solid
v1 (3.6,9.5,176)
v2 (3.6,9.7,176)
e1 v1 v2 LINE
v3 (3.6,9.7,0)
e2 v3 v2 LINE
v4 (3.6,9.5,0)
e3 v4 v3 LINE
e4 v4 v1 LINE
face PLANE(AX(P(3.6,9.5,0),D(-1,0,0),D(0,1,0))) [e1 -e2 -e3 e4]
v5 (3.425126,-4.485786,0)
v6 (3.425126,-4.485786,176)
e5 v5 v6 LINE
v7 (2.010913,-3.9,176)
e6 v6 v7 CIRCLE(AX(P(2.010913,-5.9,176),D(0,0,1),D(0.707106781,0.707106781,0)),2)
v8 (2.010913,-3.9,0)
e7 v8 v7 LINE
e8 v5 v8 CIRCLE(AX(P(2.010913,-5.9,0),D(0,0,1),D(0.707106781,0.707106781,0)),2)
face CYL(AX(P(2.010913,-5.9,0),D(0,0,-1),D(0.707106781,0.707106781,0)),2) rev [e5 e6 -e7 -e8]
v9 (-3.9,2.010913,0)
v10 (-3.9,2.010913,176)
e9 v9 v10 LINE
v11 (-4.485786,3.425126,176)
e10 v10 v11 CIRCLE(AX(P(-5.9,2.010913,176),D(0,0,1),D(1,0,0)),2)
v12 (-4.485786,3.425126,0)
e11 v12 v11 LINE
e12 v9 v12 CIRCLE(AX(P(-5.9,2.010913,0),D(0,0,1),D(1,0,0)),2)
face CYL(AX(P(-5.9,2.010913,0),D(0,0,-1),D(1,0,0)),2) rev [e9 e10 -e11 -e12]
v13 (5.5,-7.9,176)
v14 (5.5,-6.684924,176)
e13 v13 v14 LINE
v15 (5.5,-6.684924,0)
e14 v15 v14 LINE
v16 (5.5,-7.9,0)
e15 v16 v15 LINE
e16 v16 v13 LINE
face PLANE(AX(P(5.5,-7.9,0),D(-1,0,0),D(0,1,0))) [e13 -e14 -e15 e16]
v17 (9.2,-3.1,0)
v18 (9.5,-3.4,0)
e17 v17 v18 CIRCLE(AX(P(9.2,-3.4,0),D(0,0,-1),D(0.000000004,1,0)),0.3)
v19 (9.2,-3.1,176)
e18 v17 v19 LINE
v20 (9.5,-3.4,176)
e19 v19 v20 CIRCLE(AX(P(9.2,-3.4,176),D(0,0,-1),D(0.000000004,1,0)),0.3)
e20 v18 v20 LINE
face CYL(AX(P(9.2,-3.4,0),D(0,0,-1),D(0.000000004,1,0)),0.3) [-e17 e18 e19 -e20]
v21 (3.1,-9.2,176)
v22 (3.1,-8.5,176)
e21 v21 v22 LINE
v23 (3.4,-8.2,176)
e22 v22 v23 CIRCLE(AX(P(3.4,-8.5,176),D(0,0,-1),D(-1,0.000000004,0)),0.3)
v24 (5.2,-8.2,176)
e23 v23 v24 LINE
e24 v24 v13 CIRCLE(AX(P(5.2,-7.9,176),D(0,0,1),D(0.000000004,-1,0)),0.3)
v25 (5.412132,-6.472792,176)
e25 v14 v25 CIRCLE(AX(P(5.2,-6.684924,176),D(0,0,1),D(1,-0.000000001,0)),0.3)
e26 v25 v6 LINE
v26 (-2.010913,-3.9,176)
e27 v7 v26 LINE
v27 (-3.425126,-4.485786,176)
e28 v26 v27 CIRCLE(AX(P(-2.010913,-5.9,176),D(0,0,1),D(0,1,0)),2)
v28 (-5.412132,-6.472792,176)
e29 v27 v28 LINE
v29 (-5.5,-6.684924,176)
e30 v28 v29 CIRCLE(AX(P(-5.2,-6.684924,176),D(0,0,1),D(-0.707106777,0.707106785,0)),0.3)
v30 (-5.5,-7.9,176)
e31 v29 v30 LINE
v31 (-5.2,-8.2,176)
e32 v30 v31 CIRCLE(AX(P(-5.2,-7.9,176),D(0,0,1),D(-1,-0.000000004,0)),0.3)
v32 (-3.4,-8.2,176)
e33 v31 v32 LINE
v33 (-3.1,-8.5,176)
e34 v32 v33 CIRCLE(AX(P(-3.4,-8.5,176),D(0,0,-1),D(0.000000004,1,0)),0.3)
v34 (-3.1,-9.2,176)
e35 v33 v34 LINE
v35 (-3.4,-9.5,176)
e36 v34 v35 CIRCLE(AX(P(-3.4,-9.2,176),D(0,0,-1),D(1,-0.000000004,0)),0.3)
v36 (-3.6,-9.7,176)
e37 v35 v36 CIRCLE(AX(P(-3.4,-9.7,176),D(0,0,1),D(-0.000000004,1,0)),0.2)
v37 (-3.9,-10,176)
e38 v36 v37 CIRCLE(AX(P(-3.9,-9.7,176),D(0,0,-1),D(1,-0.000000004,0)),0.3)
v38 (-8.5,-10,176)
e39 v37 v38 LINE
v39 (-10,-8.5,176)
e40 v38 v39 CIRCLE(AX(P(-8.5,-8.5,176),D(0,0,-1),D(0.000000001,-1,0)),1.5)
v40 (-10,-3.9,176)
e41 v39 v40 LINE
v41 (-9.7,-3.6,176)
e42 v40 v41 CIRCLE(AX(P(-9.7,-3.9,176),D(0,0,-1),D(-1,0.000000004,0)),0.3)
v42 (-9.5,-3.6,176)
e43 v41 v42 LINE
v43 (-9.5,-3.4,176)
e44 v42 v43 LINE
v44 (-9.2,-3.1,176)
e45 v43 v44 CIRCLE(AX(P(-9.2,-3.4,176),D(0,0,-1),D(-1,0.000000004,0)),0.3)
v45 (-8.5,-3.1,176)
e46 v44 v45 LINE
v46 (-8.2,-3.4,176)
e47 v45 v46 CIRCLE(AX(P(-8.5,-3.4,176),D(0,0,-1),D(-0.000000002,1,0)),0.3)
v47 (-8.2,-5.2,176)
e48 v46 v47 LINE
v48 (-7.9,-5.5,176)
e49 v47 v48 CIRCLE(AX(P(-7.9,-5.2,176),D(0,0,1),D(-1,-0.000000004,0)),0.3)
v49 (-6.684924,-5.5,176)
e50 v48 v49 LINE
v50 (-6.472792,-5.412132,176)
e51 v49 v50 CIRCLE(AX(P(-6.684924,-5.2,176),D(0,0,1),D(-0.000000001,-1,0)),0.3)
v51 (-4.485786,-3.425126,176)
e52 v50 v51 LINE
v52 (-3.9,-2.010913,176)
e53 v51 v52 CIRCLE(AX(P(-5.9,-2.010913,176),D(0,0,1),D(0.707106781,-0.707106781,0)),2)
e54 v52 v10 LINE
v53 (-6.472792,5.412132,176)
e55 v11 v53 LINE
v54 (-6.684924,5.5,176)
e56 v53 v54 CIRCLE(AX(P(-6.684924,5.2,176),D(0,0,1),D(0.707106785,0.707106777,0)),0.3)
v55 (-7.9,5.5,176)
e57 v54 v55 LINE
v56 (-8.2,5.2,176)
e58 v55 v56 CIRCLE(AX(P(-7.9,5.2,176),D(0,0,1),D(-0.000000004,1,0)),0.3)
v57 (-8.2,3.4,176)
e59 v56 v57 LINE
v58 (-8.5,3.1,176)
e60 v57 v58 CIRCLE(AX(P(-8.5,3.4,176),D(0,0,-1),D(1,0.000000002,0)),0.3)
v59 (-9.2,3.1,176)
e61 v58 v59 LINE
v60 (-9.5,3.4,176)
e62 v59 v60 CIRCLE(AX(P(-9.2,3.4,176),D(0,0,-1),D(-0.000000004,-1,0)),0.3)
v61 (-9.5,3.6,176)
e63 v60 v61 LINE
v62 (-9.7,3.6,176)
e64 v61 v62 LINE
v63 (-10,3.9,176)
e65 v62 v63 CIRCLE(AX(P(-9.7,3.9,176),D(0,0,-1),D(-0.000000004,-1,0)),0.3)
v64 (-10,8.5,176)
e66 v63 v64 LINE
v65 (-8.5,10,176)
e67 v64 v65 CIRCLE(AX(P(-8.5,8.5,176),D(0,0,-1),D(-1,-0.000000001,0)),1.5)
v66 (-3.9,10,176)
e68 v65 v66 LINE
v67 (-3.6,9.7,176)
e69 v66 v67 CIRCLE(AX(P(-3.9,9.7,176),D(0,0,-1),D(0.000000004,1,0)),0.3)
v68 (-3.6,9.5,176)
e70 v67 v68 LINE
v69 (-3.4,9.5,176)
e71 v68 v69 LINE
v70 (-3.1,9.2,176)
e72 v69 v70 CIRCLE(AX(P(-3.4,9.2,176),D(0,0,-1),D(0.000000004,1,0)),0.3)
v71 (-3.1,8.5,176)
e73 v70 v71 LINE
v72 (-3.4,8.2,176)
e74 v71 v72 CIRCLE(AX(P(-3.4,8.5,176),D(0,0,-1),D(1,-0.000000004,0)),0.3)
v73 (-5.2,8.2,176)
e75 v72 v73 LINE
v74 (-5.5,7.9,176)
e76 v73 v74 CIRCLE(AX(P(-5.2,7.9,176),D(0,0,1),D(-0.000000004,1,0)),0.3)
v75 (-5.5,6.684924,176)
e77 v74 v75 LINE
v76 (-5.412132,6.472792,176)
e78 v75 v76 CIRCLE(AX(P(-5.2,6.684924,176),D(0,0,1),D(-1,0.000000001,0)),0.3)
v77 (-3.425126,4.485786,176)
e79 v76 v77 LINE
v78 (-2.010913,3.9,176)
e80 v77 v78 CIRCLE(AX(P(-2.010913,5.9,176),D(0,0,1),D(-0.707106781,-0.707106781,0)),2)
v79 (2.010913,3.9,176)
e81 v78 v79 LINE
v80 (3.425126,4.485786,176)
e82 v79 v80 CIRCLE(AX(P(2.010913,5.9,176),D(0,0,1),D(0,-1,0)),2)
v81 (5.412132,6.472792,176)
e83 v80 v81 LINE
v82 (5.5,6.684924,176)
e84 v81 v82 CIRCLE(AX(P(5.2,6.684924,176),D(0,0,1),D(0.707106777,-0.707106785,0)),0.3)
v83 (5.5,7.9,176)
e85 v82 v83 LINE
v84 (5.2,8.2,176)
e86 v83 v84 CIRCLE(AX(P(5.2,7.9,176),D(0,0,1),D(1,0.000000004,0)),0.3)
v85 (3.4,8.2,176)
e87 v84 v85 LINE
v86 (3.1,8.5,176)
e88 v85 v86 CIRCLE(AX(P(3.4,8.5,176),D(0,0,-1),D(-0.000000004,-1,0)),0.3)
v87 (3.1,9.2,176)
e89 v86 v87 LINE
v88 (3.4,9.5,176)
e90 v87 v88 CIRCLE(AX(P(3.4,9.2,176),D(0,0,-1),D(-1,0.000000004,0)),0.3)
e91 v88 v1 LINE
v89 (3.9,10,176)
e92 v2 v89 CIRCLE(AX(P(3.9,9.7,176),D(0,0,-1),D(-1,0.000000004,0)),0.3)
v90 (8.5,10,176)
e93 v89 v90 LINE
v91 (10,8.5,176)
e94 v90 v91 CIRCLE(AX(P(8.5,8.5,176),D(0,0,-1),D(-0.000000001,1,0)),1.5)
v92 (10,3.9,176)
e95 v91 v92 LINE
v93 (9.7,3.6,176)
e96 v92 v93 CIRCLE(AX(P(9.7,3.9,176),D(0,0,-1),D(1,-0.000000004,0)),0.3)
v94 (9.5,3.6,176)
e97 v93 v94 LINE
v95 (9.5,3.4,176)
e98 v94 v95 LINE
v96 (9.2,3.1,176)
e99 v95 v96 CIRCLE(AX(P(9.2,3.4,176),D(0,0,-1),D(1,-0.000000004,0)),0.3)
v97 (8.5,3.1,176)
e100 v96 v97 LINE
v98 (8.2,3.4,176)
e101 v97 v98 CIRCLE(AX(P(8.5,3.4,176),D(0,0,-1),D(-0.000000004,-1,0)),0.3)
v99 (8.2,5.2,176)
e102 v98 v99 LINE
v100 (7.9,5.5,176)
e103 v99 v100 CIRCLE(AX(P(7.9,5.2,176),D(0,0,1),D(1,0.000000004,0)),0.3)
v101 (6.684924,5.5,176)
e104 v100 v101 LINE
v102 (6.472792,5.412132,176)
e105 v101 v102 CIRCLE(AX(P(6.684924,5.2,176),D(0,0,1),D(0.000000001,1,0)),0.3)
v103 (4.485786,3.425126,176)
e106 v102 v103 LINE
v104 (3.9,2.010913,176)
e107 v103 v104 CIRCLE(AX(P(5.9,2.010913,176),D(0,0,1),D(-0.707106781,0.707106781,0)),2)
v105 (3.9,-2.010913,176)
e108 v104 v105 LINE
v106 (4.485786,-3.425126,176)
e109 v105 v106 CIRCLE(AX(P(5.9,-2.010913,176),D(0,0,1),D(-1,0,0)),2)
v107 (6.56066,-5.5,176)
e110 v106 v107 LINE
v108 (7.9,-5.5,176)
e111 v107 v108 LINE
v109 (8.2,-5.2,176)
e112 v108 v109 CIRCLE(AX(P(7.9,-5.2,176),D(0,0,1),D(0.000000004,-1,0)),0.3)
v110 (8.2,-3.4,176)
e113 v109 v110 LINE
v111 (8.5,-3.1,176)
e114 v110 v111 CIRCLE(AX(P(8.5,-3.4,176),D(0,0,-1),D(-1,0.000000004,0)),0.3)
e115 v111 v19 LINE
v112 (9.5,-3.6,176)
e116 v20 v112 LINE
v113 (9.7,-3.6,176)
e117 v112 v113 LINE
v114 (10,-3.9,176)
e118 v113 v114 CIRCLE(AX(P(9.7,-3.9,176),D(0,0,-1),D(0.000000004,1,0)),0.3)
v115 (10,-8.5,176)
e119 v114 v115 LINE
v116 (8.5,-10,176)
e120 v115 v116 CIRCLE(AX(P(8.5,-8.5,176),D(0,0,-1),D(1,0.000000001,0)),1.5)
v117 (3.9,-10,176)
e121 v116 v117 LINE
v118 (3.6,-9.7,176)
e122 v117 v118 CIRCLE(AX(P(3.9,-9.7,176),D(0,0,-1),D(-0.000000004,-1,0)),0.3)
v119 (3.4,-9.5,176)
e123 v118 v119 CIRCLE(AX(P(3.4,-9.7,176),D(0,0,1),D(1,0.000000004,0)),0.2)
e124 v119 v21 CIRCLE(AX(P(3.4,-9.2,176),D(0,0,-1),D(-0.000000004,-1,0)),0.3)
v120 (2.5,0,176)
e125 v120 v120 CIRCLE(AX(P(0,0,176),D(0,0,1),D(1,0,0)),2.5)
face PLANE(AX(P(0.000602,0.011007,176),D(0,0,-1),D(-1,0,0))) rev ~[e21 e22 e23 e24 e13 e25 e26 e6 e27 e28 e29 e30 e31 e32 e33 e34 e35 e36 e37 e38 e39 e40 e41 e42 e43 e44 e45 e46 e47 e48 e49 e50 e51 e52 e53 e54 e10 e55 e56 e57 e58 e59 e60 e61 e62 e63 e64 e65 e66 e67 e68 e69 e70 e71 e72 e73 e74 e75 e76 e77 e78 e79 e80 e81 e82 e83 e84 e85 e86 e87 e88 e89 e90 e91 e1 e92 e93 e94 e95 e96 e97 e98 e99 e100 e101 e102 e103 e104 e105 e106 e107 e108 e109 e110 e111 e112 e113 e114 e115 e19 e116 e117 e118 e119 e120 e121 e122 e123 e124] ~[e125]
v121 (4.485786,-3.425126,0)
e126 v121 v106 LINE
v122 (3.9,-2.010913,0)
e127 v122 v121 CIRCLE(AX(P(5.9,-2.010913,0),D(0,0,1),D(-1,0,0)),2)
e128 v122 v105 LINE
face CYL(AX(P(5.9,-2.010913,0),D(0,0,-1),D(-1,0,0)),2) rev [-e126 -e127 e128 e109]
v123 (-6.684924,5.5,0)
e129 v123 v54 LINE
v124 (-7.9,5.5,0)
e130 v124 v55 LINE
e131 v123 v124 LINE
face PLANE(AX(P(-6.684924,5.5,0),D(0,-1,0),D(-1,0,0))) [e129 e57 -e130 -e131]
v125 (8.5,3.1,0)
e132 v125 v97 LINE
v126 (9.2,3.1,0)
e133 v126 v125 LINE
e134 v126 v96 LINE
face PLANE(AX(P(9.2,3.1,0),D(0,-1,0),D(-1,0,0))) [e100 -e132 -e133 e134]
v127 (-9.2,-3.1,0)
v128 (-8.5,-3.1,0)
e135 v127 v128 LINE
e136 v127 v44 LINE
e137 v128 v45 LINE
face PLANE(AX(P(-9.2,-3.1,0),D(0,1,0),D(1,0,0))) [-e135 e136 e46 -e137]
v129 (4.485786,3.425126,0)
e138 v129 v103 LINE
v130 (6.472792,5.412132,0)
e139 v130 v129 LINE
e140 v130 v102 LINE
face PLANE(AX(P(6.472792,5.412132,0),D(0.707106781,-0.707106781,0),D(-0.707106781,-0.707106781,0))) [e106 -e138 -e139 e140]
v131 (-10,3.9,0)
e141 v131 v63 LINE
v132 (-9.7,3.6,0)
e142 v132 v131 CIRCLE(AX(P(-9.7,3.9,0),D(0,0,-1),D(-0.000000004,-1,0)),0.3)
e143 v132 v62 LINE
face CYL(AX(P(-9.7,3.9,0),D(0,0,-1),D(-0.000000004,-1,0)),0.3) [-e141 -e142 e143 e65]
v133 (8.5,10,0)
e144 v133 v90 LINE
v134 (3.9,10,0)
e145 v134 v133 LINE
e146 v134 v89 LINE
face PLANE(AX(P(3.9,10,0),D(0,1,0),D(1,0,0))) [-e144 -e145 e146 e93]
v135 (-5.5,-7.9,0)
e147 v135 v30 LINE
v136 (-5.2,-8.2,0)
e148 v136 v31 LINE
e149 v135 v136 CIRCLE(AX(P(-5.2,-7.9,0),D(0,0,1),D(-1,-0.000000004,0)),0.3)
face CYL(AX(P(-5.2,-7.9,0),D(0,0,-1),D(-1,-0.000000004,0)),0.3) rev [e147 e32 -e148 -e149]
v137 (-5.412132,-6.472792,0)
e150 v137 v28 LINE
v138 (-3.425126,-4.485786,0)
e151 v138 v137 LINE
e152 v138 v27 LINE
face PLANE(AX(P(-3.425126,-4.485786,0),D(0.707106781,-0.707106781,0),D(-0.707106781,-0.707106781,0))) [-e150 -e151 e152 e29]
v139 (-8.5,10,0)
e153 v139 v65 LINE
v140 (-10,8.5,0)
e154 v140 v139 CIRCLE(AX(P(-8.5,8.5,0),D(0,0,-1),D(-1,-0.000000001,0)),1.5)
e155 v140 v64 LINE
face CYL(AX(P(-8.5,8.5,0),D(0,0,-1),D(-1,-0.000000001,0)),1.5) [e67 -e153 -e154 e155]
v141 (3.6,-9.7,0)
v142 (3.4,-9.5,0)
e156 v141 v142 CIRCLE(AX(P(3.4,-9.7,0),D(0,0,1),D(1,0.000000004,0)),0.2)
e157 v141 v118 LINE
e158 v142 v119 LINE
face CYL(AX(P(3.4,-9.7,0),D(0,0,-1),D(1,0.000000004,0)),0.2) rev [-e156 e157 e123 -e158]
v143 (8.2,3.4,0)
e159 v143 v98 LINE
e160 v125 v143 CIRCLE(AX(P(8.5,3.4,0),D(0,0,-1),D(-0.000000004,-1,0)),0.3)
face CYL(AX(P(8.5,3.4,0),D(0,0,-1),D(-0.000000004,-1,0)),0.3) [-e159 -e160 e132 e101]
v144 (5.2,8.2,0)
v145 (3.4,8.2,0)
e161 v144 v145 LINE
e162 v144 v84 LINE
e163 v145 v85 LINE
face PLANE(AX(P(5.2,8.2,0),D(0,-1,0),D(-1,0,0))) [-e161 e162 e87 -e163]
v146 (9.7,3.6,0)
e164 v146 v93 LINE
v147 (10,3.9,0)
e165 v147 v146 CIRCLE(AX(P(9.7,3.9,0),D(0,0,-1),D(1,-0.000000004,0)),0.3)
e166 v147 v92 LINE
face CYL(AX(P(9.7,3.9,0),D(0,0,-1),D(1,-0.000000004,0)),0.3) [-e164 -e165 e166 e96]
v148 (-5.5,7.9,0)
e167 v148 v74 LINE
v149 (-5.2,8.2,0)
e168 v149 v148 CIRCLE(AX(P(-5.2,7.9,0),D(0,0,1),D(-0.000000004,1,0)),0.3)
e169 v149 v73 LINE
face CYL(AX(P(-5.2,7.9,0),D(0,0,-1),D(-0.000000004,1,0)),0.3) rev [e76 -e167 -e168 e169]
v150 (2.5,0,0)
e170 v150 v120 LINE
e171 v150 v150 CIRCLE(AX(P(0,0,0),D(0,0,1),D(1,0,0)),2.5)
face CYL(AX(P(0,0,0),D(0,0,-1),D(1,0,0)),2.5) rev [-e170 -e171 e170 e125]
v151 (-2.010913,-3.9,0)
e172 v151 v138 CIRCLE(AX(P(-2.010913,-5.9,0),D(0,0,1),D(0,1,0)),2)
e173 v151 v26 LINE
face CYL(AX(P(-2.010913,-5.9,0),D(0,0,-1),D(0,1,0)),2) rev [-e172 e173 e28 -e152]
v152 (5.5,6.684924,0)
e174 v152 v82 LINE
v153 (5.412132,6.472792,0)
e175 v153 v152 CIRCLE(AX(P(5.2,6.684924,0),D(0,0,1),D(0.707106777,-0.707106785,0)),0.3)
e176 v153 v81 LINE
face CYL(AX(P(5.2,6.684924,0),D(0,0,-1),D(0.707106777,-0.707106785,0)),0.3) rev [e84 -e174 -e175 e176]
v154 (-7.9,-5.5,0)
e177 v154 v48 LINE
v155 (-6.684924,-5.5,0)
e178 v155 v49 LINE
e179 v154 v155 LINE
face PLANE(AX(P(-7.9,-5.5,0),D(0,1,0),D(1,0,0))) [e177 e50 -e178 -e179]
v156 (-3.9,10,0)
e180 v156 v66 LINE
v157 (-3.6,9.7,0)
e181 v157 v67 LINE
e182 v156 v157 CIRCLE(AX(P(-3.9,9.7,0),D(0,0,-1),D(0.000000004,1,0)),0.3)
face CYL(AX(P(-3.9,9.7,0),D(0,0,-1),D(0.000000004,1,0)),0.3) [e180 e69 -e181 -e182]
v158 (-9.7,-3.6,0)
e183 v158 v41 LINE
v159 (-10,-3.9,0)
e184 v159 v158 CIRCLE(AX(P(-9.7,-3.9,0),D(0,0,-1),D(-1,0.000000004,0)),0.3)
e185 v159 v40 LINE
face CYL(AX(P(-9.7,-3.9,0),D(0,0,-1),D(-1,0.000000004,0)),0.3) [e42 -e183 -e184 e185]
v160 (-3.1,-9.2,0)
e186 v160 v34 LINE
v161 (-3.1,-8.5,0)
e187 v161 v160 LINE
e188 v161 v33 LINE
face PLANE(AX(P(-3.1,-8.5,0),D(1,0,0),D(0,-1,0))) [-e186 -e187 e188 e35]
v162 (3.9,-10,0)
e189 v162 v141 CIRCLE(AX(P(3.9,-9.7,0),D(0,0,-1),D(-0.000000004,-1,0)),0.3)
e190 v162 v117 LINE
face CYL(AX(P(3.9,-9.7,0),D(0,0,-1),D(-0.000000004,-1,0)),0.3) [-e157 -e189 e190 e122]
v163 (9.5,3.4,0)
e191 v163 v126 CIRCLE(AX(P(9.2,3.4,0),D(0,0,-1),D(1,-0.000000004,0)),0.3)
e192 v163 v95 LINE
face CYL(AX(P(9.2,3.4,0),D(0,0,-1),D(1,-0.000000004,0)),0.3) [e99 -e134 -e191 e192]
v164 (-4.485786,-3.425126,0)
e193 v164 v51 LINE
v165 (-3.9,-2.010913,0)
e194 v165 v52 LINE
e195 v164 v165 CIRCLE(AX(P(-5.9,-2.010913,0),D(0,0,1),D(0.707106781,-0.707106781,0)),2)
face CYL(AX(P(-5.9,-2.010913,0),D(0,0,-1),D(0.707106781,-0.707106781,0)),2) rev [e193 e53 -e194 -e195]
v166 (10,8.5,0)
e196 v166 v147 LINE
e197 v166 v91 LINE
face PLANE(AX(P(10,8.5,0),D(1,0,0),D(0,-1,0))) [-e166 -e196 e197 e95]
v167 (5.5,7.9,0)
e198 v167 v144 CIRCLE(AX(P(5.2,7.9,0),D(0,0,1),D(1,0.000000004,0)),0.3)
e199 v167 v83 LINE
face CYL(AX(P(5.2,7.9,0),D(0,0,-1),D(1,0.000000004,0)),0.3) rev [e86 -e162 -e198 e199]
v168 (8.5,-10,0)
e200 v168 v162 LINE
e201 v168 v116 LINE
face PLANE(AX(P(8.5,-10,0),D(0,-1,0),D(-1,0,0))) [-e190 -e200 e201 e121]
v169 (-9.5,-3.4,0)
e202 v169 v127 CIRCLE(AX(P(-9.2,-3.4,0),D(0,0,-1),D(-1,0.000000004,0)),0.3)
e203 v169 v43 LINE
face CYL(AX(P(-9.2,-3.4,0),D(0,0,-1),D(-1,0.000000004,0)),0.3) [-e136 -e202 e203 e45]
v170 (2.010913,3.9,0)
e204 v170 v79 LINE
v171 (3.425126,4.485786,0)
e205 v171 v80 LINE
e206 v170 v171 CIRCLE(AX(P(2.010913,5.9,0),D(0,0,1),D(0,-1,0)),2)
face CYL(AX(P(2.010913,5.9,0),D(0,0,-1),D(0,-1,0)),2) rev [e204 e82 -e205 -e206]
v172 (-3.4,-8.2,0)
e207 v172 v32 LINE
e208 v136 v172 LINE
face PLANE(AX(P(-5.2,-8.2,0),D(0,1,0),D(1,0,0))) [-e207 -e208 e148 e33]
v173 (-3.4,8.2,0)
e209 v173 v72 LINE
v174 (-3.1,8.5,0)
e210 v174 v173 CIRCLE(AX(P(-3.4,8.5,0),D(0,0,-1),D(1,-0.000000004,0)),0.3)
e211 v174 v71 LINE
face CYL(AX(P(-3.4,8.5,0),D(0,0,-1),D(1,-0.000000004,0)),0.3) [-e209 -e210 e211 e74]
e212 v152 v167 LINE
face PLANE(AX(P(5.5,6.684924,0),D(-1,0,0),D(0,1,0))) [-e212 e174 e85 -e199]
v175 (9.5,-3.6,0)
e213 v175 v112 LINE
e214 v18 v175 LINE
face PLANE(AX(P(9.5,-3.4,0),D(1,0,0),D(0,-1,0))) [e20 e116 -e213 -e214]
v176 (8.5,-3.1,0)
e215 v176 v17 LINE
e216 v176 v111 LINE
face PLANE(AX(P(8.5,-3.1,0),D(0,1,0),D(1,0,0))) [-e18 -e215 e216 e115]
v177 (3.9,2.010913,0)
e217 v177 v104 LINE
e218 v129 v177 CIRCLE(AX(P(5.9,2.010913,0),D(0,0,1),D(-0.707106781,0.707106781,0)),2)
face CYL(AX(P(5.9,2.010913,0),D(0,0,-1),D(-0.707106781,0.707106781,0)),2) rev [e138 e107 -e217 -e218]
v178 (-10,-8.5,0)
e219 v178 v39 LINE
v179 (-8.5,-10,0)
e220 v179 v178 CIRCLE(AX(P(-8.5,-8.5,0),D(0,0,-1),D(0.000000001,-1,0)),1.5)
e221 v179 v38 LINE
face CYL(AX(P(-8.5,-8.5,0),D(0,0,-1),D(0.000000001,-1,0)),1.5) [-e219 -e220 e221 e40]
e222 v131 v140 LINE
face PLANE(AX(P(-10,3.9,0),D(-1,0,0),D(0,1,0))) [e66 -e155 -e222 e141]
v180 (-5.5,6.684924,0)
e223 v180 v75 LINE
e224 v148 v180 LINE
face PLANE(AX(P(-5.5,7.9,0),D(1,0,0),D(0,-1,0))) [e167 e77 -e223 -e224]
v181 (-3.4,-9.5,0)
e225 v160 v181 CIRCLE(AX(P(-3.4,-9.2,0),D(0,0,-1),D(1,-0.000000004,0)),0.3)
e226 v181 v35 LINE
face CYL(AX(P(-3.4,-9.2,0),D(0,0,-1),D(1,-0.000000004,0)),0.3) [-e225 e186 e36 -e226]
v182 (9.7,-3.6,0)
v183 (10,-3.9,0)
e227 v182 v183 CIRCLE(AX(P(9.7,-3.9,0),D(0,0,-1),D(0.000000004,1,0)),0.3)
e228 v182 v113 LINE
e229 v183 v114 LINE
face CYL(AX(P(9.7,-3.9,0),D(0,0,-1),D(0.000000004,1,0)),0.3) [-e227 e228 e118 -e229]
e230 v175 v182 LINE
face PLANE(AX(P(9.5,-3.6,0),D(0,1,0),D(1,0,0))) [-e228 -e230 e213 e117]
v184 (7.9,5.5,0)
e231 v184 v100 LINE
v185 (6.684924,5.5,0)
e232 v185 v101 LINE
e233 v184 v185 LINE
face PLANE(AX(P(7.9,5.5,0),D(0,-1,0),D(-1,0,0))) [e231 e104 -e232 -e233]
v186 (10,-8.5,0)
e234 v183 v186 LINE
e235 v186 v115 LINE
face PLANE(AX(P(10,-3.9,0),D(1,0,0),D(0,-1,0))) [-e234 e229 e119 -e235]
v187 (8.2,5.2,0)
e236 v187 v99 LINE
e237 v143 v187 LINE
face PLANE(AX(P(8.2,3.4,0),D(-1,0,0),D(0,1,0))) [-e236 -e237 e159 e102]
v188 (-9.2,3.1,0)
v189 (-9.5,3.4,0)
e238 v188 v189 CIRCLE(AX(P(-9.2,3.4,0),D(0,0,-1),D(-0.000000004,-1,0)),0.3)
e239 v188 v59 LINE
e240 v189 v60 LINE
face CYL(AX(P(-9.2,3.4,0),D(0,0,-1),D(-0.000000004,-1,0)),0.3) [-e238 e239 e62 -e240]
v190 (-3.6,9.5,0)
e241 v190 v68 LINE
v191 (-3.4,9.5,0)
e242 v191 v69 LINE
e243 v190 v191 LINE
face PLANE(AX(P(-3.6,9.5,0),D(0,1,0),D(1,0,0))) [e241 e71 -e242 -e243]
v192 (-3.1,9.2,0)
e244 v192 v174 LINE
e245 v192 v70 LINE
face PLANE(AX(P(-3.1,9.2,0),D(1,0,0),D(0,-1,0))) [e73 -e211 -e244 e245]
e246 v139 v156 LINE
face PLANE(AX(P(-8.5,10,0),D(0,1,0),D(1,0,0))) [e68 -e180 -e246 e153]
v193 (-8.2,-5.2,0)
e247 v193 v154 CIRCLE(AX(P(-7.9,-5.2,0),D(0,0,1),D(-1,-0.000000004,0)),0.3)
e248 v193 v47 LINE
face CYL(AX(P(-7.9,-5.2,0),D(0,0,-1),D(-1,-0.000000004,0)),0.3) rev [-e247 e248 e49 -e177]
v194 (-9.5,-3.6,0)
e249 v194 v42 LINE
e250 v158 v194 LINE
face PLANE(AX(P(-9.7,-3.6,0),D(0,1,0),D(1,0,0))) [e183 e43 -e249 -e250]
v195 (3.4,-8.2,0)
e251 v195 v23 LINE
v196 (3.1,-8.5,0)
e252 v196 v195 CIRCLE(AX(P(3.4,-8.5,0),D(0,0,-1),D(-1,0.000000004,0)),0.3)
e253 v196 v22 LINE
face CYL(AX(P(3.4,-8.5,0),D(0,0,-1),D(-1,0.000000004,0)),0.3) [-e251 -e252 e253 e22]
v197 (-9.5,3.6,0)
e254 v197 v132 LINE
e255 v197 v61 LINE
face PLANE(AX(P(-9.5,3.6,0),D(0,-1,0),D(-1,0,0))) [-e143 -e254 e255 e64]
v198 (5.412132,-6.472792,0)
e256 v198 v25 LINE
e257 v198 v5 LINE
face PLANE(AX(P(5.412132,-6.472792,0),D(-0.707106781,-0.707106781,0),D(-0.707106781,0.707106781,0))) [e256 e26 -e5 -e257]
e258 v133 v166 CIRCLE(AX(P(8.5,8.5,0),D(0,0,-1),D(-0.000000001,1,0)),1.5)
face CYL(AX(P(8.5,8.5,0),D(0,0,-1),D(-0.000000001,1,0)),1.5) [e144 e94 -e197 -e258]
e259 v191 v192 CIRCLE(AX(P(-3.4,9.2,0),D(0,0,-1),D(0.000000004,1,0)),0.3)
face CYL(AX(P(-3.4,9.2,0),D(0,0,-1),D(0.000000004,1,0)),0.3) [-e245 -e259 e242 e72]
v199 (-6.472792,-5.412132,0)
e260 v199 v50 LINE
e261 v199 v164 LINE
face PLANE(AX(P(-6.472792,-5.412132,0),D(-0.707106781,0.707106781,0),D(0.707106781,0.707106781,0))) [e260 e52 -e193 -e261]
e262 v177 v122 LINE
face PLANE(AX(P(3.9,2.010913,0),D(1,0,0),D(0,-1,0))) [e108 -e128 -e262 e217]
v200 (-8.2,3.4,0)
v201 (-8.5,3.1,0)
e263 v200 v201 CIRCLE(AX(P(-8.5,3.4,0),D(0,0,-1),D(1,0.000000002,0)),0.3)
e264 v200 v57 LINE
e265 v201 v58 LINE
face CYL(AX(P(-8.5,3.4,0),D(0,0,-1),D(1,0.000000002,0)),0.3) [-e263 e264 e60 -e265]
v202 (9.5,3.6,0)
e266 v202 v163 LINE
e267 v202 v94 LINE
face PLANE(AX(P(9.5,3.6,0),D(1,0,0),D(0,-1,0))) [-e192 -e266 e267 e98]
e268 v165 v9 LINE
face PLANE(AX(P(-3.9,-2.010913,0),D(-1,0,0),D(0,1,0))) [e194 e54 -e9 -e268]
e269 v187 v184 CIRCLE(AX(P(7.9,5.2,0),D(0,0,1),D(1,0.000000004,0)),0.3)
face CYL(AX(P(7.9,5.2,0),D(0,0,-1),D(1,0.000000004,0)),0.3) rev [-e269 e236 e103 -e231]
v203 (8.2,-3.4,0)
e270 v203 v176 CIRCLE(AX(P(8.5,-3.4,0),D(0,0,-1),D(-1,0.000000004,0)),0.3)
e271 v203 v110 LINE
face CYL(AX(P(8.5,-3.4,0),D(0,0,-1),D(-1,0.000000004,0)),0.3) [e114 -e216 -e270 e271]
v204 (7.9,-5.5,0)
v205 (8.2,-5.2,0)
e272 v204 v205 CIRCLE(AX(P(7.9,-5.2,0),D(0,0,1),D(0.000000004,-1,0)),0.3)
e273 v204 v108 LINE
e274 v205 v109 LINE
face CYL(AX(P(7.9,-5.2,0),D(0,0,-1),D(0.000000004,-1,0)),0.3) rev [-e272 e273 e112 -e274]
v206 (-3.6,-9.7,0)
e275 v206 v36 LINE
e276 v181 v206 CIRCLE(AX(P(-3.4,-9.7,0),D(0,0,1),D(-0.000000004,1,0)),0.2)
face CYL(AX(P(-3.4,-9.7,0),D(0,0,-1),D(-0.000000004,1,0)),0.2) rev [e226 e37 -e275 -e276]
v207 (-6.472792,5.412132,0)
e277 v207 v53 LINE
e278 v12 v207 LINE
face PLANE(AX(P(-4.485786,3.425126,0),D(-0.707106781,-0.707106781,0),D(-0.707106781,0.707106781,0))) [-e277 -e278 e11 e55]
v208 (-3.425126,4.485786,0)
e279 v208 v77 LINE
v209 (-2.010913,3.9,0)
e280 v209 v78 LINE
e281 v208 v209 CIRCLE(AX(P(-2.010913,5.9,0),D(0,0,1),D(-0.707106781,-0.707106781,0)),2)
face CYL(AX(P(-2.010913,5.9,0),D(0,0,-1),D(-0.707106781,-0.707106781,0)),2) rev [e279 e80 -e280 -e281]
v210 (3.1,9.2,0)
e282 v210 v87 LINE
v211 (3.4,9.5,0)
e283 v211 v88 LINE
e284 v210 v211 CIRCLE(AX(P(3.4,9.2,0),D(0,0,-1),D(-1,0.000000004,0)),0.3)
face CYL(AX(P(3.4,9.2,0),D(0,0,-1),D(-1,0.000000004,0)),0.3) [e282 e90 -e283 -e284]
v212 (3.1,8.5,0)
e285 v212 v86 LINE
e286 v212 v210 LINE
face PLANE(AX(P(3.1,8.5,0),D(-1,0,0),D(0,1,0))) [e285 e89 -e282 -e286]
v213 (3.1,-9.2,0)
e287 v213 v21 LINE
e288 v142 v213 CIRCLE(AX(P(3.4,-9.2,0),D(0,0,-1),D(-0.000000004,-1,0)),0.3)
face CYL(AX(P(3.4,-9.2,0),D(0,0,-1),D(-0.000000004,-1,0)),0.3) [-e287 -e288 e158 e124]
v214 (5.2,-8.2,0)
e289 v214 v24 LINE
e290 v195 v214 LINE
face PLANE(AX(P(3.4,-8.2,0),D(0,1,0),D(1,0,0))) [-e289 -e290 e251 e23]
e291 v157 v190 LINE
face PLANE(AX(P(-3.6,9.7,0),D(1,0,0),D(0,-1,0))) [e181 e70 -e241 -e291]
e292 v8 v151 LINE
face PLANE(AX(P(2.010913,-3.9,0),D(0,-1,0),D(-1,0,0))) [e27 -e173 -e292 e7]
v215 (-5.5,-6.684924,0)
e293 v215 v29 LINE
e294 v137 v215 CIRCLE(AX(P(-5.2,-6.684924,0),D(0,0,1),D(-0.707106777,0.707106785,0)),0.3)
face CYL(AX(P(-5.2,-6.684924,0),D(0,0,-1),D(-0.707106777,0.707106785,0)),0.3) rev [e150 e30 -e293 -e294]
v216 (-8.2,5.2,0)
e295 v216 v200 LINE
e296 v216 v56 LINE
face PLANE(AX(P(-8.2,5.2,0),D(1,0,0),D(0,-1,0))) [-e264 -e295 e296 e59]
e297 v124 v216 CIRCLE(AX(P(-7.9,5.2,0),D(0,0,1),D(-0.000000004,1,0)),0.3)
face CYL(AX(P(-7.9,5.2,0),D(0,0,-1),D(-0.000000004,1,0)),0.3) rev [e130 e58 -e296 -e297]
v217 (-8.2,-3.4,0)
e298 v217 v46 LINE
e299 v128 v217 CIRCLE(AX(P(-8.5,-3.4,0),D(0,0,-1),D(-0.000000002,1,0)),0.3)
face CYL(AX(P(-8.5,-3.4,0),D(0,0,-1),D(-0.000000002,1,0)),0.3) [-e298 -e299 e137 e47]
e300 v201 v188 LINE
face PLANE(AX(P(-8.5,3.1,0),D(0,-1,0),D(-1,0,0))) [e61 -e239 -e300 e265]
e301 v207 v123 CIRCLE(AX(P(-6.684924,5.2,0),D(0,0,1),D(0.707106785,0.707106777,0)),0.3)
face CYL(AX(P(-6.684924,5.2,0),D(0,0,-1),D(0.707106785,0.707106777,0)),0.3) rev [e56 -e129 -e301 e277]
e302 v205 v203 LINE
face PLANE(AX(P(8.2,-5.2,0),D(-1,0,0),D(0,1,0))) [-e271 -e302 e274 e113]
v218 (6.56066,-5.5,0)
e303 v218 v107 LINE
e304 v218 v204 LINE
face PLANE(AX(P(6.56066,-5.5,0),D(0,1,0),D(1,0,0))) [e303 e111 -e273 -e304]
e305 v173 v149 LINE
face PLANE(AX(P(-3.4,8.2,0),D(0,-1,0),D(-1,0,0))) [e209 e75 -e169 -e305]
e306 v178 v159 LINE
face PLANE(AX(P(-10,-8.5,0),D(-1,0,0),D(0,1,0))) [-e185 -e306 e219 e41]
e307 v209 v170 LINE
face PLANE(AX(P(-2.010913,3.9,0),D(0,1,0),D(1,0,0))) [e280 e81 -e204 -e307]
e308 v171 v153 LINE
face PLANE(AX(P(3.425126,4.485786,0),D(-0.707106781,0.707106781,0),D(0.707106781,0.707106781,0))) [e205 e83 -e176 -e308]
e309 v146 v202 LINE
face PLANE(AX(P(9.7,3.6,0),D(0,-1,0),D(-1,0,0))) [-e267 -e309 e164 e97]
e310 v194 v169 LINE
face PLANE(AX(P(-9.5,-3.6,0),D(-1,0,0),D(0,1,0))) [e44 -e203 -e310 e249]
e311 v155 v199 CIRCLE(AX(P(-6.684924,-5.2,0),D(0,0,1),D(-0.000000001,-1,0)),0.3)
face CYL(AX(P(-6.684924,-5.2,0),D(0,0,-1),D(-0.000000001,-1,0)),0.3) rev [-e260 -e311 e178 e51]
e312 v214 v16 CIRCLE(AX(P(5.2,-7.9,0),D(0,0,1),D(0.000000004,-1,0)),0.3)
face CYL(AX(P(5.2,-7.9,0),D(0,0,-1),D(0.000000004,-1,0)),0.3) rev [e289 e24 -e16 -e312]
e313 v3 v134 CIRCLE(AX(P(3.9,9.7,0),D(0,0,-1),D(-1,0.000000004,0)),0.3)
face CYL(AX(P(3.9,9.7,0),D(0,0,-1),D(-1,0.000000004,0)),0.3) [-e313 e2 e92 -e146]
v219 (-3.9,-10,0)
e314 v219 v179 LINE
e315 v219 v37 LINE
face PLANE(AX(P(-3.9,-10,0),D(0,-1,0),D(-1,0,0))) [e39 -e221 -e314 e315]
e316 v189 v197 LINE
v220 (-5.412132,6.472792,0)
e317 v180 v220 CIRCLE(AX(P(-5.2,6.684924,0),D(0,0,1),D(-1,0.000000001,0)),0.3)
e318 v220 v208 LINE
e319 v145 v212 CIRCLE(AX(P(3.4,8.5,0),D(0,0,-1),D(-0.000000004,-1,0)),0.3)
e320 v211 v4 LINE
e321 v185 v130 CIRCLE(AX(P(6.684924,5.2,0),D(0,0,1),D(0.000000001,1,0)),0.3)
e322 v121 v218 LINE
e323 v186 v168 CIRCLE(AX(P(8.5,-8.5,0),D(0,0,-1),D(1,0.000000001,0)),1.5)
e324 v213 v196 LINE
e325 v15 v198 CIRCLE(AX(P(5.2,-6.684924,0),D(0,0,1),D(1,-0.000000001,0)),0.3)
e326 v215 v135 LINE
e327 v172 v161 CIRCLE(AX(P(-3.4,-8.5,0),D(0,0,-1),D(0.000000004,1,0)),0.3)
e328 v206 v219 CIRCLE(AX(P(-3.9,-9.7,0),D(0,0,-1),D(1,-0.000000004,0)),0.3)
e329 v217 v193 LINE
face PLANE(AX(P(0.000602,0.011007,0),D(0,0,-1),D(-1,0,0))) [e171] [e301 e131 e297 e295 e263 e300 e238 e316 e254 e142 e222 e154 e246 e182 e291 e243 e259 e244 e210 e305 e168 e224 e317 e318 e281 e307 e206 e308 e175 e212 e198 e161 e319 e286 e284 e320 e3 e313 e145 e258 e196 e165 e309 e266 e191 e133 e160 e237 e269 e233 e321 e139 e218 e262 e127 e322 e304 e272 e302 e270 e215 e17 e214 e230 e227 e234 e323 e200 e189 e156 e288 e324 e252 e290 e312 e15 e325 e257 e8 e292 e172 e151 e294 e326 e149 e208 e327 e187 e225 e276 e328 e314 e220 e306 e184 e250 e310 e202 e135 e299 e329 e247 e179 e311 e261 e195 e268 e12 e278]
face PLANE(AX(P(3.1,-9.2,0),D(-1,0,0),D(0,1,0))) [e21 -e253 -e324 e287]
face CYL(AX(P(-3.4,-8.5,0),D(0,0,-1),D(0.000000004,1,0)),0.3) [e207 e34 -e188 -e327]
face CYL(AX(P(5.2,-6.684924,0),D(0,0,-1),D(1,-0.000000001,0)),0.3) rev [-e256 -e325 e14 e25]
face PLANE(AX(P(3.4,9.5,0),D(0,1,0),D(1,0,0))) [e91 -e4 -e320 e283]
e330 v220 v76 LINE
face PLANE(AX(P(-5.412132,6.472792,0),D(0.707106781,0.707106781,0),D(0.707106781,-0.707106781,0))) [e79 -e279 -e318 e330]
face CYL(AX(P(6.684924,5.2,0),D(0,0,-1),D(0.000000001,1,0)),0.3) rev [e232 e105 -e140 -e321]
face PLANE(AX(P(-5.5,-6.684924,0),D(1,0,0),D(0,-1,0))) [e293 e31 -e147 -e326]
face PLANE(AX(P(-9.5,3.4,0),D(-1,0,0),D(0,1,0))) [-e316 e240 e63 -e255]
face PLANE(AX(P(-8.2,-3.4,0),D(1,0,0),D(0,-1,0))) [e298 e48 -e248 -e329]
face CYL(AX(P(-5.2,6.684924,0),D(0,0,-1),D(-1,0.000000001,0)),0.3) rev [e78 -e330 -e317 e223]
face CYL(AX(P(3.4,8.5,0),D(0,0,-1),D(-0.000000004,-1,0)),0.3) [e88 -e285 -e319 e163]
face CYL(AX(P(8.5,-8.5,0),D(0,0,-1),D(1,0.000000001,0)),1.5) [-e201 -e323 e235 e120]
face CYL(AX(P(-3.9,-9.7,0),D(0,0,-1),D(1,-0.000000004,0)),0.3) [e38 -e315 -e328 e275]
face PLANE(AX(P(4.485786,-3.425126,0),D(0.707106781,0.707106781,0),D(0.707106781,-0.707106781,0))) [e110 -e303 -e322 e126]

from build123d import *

# Parameters (mm, degrees)
SKETCH_1_R      = 2.5
EXTRUDE_1_DEPTH = 176


with BuildPart() as part:
    # 草图1 → 凸台-拉伸1 (new body)
    with BuildSketch(Plane.XY):
        with BuildLine():
            Line((3.9, 0), (3.9, -2.010912703))
            ThreePointArc((3.9, -2.010912703), (4.052240935, -2.776279568), (4.485786438, -3.425126266))
            Line((4.485786438, -3.425126266), (6.560660172, -5.5))
            Line((6.560660172, -5.5), (7.9, -5.5))
            ThreePointArc((7.9, -5.5), (8.112132034, -5.412132034), (8.2, -5.2))
            Line((8.2, -5.2), (8.2, -3.4))
            ThreePointArc((8.2, -3.4), (8.287867966, -3.187867966), (8.5, -3.1))
            Line((8.5, -3.1), (9.2, -3.1))
            ThreePointArc((9.2, -3.1), (9.412132034, -3.187867966), (9.5, -3.4))
            Line((9.5, -3.4), (9.5, -3.6))
            Line((9.5, -3.6), (9.7, -3.6))
            ThreePointArc((9.7, -3.6), (9.912132034, -3.687867966), (10, -3.9))
            Line((10, -3.9), (10, -8.5))
            ThreePointArc((10, -8.5), (9.560660172, -9.560660172), (8.5, -10))
            Line((8.5, -10), (3.9, -10))
            ThreePointArc((3.9, -10), (3.687867966, -9.912132034), (3.6, -9.7))
            ThreePointArc((3.6, -9.7), (3.541421356, -9.558578644), (3.4, -9.5))
            ThreePointArc((3.4, -9.5), (3.187867966, -9.412132034), (3.1, -9.2))
            Line((3.1, -9.2), (3.1, -8.5))
            ThreePointArc((3.1, -8.5), (3.187867966, -8.287867966), (3.4, -8.2))
            Line((3.4, -8.2), (5.2, -8.2))
            ThreePointArc((5.2, -8.2), (5.412132034, -8.112132034), (5.5, -7.9))
            Line((5.5, -7.9), (5.5, -6.68492424))
            ThreePointArc((5.5, -6.68492424), (5.47716386, -6.570119211), (5.412132034, -6.472792206))
            Line((5.412132034, -6.472792206), (3.425126266, -4.485786438))
            ThreePointArc((3.425126266, -4.485786438), (2.776279568, -4.052240935), (2.010912703, -3.9))
            Line((2.010912703, -3.9), (0, -3.9))
            Line((0, -3.9), (-2.010912703, -3.9))
            ThreePointArc((-2.010912703, -3.9), (-2.776279568, -4.052240935), (-3.425126266, -4.485786438))
            Line((-3.425126266, -4.485786438), (-5.412132034, -6.472792206))
            ThreePointArc((-5.412132034, -6.472792206), (-5.47716386, -6.570119211), (-5.5, -6.68492424))
            Line((-5.5, -6.68492424), (-5.5, -7.9))
            ThreePointArc((-5.5, -7.9), (-5.412132034, -8.112132034), (-5.2, -8.2))
            Line((-5.2, -8.2), (-3.4, -8.2))
            ThreePointArc((-3.4, -8.2), (-3.187867966, -8.287867966), (-3.1, -8.5))
            Line((-3.1, -8.5), (-3.1, -9.2))
            ThreePointArc((-3.1, -9.2), (-3.187867966, -9.412132034), (-3.4, -9.5))
            ThreePointArc((-3.4, -9.5), (-3.541421356, -9.558578644), (-3.6, -9.7))
            ThreePointArc((-3.6, -9.7), (-3.687867966, -9.912132034), (-3.9, -10))
            Line((-3.9, -10), (-8.5, -10))
            ThreePointArc((-8.5, -10), (-9.560660172, -9.560660172), (-10, -8.5))
            Line((-10, -8.5), (-10, -3.9))
            ThreePointArc((-10, -3.9), (-9.912132034, -3.687867966), (-9.7, -3.6))
            Line((-9.7, -3.6), (-9.5, -3.6))
            Line((-9.5, -3.6), (-9.5, -3.4))
            ThreePointArc((-9.5, -3.4), (-9.412132034, -3.187867966), (-9.2, -3.1))
            Line((-9.2, -3.1), (-8.5, -3.1))
            ThreePointArc((-8.5, -3.1), (-8.287867965, -3.187867966), (-8.2, -3.4))
            Line((-8.2, -3.4), (-8.2, -5.2))
            ThreePointArc((-8.2, -5.2), (-8.112132034, -5.412132034), (-7.9, -5.5))
            Line((-7.9, -5.5), (-6.68492424, -5.5))
            ThreePointArc((-6.68492424, -5.5), (-6.570119211, -5.47716386), (-6.472792206, -5.412132034))
            Line((-6.472792206, -5.412132034), (-4.485786438, -3.425126266))
            ThreePointArc((-4.485786438, -3.425126266), (-4.052240935, -2.776279568), (-3.9, -2.010912703))
            Line((-3.9, -2.010912703), (-3.9, 0))
            Line((-3.9, 0), (-3.9, 2.010912703))
            ThreePointArc((-3.9, 2.010912703), (-4.052240935, 2.776279568), (-4.485786438, 3.425126266))
            Line((-4.485786438, 3.425126266), (-6.472792206, 5.412132034))
            ThreePointArc((-6.472792206, 5.412132034), (-6.570119211, 5.47716386), (-6.68492424, 5.5))
            Line((-6.68492424, 5.5), (-7.9, 5.5))
            ThreePointArc((-7.9, 5.5), (-8.112132034, 5.412132034), (-8.2, 5.2))
            Line((-8.2, 5.2), (-8.2, 3.4))
            ThreePointArc((-8.2, 3.4), (-8.287867965, 3.187867966), (-8.5, 3.1))
            Line((-8.5, 3.1), (-9.2, 3.1))
            ThreePointArc((-9.2, 3.1), (-9.412132034, 3.187867966), (-9.5, 3.4))
            Line((-9.5, 3.4), (-9.5, 3.6))
            Line((-9.5, 3.6), (-9.7, 3.6))
            ThreePointArc((-9.7, 3.6), (-9.912132034, 3.687867966), (-10, 3.9))
            Line((-10, 3.9), (-10, 8.5))
            ThreePointArc((-10, 8.5), (-9.560660172, 9.560660172), (-8.5, 10))
            Line((-8.5, 10), (-3.9, 10))
            ThreePointArc((-3.9, 10), (-3.687867966, 9.912132034), (-3.6, 9.7))
            Line((-3.6, 9.7), (-3.6, 9.5))
            Line((-3.6, 9.5), (-3.4, 9.5))
            ThreePointArc((-3.4, 9.5), (-3.187867966, 9.412132034), (-3.1, 9.2))
            Line((-3.1, 9.2), (-3.1, 8.5))
            ThreePointArc((-3.1, 8.5), (-3.187867966, 8.287867966), (-3.4, 8.2))
            Line((-3.4, 8.2), (-5.2, 8.2))
            ThreePointArc((-5.2, 8.2), (-5.412132034, 8.112132034), (-5.5, 7.9))
            Line((-5.5, 7.9), (-5.5, 6.68492424))
            ThreePointArc((-5.5, 6.68492424), (-5.47716386, 6.570119211), (-5.412132034, 6.472792206))
            Line((-5.412132034, 6.472792206), (-3.425126266, 4.485786438))
            ThreePointArc((-3.425126266, 4.485786438), (-2.776279568, 4.052240935), (-2.010912703, 3.9))
            Line((-2.010912703, 3.9), (0, 3.9))
            Line((0, 3.9), (2.010912703, 3.9))
            ThreePointArc((2.010912703, 3.9), (2.776279568, 4.052240935), (3.425126266, 4.485786438))
            Line((3.425126266, 4.485786438), (5.412132034, 6.472792206))
            ThreePointArc((5.412132034, 6.472792206), (5.47716386, 6.570119211), (5.5, 6.68492424))
            Line((5.5, 6.68492424), (5.5, 7.9))
            ThreePointArc((5.5, 7.9), (5.412132034, 8.112132034), (5.2, 8.2))
            Line((5.2, 8.2), (3.4, 8.2))
            ThreePointArc((3.4, 8.2), (3.187867966, 8.287867966), (3.1, 8.5))
            Line((3.1, 8.5), (3.1, 9.2))
            ThreePointArc((3.1, 9.2), (3.187867966, 9.412132034), (3.4, 9.5))
            Line((3.4, 9.5), (3.6, 9.5))
            Line((3.6, 9.5), (3.6, 9.7))
            ThreePointArc((3.6, 9.7), (3.687867966, 9.912132034), (3.9, 10))
            Line((3.9, 10), (8.5, 10))
            ThreePointArc((8.5, 10), (9.560660172, 9.560660172), (10, 8.5))
            Line((10, 8.5), (10, 3.9))
            ThreePointArc((10, 3.9), (9.912132034, 3.687867966), (9.7, 3.6))
            Line((9.7, 3.6), (9.5, 3.6))
            Line((9.5, 3.6), (9.5, 3.4))
            ThreePointArc((9.5, 3.4), (9.412132034, 3.187867966), (9.2, 3.1))
            Line((9.2, 3.1), (8.5, 3.1))
            ThreePointArc((8.5, 3.1), (8.287867966, 3.187867966), (8.2, 3.4))
            Line((8.2, 3.4), (8.2, 5.2))
            ThreePointArc((8.2, 5.2), (8.112132034, 5.412132034), (7.9, 5.5))
            Line((7.9, 5.5), (6.68492424, 5.5))
            ThreePointArc((6.68492424, 5.5), (6.570119211, 5.47716386), (6.472792206, 5.412132034))
            Line((6.472792206, 5.412132034), (4.485786438, 3.425126266))
            ThreePointArc((4.485786438, 3.425126266), (4.052240935, 2.776279568), (3.9, 2.010912703))
            Line((3.9, 2.010912703), (3.9, 0))
        make_face()
        Circle(SKETCH_1_R, mode=Mode.SUBTRACT)
    extrude(amount=EXTRUDE_1_DEPTH)


solid = part.part
